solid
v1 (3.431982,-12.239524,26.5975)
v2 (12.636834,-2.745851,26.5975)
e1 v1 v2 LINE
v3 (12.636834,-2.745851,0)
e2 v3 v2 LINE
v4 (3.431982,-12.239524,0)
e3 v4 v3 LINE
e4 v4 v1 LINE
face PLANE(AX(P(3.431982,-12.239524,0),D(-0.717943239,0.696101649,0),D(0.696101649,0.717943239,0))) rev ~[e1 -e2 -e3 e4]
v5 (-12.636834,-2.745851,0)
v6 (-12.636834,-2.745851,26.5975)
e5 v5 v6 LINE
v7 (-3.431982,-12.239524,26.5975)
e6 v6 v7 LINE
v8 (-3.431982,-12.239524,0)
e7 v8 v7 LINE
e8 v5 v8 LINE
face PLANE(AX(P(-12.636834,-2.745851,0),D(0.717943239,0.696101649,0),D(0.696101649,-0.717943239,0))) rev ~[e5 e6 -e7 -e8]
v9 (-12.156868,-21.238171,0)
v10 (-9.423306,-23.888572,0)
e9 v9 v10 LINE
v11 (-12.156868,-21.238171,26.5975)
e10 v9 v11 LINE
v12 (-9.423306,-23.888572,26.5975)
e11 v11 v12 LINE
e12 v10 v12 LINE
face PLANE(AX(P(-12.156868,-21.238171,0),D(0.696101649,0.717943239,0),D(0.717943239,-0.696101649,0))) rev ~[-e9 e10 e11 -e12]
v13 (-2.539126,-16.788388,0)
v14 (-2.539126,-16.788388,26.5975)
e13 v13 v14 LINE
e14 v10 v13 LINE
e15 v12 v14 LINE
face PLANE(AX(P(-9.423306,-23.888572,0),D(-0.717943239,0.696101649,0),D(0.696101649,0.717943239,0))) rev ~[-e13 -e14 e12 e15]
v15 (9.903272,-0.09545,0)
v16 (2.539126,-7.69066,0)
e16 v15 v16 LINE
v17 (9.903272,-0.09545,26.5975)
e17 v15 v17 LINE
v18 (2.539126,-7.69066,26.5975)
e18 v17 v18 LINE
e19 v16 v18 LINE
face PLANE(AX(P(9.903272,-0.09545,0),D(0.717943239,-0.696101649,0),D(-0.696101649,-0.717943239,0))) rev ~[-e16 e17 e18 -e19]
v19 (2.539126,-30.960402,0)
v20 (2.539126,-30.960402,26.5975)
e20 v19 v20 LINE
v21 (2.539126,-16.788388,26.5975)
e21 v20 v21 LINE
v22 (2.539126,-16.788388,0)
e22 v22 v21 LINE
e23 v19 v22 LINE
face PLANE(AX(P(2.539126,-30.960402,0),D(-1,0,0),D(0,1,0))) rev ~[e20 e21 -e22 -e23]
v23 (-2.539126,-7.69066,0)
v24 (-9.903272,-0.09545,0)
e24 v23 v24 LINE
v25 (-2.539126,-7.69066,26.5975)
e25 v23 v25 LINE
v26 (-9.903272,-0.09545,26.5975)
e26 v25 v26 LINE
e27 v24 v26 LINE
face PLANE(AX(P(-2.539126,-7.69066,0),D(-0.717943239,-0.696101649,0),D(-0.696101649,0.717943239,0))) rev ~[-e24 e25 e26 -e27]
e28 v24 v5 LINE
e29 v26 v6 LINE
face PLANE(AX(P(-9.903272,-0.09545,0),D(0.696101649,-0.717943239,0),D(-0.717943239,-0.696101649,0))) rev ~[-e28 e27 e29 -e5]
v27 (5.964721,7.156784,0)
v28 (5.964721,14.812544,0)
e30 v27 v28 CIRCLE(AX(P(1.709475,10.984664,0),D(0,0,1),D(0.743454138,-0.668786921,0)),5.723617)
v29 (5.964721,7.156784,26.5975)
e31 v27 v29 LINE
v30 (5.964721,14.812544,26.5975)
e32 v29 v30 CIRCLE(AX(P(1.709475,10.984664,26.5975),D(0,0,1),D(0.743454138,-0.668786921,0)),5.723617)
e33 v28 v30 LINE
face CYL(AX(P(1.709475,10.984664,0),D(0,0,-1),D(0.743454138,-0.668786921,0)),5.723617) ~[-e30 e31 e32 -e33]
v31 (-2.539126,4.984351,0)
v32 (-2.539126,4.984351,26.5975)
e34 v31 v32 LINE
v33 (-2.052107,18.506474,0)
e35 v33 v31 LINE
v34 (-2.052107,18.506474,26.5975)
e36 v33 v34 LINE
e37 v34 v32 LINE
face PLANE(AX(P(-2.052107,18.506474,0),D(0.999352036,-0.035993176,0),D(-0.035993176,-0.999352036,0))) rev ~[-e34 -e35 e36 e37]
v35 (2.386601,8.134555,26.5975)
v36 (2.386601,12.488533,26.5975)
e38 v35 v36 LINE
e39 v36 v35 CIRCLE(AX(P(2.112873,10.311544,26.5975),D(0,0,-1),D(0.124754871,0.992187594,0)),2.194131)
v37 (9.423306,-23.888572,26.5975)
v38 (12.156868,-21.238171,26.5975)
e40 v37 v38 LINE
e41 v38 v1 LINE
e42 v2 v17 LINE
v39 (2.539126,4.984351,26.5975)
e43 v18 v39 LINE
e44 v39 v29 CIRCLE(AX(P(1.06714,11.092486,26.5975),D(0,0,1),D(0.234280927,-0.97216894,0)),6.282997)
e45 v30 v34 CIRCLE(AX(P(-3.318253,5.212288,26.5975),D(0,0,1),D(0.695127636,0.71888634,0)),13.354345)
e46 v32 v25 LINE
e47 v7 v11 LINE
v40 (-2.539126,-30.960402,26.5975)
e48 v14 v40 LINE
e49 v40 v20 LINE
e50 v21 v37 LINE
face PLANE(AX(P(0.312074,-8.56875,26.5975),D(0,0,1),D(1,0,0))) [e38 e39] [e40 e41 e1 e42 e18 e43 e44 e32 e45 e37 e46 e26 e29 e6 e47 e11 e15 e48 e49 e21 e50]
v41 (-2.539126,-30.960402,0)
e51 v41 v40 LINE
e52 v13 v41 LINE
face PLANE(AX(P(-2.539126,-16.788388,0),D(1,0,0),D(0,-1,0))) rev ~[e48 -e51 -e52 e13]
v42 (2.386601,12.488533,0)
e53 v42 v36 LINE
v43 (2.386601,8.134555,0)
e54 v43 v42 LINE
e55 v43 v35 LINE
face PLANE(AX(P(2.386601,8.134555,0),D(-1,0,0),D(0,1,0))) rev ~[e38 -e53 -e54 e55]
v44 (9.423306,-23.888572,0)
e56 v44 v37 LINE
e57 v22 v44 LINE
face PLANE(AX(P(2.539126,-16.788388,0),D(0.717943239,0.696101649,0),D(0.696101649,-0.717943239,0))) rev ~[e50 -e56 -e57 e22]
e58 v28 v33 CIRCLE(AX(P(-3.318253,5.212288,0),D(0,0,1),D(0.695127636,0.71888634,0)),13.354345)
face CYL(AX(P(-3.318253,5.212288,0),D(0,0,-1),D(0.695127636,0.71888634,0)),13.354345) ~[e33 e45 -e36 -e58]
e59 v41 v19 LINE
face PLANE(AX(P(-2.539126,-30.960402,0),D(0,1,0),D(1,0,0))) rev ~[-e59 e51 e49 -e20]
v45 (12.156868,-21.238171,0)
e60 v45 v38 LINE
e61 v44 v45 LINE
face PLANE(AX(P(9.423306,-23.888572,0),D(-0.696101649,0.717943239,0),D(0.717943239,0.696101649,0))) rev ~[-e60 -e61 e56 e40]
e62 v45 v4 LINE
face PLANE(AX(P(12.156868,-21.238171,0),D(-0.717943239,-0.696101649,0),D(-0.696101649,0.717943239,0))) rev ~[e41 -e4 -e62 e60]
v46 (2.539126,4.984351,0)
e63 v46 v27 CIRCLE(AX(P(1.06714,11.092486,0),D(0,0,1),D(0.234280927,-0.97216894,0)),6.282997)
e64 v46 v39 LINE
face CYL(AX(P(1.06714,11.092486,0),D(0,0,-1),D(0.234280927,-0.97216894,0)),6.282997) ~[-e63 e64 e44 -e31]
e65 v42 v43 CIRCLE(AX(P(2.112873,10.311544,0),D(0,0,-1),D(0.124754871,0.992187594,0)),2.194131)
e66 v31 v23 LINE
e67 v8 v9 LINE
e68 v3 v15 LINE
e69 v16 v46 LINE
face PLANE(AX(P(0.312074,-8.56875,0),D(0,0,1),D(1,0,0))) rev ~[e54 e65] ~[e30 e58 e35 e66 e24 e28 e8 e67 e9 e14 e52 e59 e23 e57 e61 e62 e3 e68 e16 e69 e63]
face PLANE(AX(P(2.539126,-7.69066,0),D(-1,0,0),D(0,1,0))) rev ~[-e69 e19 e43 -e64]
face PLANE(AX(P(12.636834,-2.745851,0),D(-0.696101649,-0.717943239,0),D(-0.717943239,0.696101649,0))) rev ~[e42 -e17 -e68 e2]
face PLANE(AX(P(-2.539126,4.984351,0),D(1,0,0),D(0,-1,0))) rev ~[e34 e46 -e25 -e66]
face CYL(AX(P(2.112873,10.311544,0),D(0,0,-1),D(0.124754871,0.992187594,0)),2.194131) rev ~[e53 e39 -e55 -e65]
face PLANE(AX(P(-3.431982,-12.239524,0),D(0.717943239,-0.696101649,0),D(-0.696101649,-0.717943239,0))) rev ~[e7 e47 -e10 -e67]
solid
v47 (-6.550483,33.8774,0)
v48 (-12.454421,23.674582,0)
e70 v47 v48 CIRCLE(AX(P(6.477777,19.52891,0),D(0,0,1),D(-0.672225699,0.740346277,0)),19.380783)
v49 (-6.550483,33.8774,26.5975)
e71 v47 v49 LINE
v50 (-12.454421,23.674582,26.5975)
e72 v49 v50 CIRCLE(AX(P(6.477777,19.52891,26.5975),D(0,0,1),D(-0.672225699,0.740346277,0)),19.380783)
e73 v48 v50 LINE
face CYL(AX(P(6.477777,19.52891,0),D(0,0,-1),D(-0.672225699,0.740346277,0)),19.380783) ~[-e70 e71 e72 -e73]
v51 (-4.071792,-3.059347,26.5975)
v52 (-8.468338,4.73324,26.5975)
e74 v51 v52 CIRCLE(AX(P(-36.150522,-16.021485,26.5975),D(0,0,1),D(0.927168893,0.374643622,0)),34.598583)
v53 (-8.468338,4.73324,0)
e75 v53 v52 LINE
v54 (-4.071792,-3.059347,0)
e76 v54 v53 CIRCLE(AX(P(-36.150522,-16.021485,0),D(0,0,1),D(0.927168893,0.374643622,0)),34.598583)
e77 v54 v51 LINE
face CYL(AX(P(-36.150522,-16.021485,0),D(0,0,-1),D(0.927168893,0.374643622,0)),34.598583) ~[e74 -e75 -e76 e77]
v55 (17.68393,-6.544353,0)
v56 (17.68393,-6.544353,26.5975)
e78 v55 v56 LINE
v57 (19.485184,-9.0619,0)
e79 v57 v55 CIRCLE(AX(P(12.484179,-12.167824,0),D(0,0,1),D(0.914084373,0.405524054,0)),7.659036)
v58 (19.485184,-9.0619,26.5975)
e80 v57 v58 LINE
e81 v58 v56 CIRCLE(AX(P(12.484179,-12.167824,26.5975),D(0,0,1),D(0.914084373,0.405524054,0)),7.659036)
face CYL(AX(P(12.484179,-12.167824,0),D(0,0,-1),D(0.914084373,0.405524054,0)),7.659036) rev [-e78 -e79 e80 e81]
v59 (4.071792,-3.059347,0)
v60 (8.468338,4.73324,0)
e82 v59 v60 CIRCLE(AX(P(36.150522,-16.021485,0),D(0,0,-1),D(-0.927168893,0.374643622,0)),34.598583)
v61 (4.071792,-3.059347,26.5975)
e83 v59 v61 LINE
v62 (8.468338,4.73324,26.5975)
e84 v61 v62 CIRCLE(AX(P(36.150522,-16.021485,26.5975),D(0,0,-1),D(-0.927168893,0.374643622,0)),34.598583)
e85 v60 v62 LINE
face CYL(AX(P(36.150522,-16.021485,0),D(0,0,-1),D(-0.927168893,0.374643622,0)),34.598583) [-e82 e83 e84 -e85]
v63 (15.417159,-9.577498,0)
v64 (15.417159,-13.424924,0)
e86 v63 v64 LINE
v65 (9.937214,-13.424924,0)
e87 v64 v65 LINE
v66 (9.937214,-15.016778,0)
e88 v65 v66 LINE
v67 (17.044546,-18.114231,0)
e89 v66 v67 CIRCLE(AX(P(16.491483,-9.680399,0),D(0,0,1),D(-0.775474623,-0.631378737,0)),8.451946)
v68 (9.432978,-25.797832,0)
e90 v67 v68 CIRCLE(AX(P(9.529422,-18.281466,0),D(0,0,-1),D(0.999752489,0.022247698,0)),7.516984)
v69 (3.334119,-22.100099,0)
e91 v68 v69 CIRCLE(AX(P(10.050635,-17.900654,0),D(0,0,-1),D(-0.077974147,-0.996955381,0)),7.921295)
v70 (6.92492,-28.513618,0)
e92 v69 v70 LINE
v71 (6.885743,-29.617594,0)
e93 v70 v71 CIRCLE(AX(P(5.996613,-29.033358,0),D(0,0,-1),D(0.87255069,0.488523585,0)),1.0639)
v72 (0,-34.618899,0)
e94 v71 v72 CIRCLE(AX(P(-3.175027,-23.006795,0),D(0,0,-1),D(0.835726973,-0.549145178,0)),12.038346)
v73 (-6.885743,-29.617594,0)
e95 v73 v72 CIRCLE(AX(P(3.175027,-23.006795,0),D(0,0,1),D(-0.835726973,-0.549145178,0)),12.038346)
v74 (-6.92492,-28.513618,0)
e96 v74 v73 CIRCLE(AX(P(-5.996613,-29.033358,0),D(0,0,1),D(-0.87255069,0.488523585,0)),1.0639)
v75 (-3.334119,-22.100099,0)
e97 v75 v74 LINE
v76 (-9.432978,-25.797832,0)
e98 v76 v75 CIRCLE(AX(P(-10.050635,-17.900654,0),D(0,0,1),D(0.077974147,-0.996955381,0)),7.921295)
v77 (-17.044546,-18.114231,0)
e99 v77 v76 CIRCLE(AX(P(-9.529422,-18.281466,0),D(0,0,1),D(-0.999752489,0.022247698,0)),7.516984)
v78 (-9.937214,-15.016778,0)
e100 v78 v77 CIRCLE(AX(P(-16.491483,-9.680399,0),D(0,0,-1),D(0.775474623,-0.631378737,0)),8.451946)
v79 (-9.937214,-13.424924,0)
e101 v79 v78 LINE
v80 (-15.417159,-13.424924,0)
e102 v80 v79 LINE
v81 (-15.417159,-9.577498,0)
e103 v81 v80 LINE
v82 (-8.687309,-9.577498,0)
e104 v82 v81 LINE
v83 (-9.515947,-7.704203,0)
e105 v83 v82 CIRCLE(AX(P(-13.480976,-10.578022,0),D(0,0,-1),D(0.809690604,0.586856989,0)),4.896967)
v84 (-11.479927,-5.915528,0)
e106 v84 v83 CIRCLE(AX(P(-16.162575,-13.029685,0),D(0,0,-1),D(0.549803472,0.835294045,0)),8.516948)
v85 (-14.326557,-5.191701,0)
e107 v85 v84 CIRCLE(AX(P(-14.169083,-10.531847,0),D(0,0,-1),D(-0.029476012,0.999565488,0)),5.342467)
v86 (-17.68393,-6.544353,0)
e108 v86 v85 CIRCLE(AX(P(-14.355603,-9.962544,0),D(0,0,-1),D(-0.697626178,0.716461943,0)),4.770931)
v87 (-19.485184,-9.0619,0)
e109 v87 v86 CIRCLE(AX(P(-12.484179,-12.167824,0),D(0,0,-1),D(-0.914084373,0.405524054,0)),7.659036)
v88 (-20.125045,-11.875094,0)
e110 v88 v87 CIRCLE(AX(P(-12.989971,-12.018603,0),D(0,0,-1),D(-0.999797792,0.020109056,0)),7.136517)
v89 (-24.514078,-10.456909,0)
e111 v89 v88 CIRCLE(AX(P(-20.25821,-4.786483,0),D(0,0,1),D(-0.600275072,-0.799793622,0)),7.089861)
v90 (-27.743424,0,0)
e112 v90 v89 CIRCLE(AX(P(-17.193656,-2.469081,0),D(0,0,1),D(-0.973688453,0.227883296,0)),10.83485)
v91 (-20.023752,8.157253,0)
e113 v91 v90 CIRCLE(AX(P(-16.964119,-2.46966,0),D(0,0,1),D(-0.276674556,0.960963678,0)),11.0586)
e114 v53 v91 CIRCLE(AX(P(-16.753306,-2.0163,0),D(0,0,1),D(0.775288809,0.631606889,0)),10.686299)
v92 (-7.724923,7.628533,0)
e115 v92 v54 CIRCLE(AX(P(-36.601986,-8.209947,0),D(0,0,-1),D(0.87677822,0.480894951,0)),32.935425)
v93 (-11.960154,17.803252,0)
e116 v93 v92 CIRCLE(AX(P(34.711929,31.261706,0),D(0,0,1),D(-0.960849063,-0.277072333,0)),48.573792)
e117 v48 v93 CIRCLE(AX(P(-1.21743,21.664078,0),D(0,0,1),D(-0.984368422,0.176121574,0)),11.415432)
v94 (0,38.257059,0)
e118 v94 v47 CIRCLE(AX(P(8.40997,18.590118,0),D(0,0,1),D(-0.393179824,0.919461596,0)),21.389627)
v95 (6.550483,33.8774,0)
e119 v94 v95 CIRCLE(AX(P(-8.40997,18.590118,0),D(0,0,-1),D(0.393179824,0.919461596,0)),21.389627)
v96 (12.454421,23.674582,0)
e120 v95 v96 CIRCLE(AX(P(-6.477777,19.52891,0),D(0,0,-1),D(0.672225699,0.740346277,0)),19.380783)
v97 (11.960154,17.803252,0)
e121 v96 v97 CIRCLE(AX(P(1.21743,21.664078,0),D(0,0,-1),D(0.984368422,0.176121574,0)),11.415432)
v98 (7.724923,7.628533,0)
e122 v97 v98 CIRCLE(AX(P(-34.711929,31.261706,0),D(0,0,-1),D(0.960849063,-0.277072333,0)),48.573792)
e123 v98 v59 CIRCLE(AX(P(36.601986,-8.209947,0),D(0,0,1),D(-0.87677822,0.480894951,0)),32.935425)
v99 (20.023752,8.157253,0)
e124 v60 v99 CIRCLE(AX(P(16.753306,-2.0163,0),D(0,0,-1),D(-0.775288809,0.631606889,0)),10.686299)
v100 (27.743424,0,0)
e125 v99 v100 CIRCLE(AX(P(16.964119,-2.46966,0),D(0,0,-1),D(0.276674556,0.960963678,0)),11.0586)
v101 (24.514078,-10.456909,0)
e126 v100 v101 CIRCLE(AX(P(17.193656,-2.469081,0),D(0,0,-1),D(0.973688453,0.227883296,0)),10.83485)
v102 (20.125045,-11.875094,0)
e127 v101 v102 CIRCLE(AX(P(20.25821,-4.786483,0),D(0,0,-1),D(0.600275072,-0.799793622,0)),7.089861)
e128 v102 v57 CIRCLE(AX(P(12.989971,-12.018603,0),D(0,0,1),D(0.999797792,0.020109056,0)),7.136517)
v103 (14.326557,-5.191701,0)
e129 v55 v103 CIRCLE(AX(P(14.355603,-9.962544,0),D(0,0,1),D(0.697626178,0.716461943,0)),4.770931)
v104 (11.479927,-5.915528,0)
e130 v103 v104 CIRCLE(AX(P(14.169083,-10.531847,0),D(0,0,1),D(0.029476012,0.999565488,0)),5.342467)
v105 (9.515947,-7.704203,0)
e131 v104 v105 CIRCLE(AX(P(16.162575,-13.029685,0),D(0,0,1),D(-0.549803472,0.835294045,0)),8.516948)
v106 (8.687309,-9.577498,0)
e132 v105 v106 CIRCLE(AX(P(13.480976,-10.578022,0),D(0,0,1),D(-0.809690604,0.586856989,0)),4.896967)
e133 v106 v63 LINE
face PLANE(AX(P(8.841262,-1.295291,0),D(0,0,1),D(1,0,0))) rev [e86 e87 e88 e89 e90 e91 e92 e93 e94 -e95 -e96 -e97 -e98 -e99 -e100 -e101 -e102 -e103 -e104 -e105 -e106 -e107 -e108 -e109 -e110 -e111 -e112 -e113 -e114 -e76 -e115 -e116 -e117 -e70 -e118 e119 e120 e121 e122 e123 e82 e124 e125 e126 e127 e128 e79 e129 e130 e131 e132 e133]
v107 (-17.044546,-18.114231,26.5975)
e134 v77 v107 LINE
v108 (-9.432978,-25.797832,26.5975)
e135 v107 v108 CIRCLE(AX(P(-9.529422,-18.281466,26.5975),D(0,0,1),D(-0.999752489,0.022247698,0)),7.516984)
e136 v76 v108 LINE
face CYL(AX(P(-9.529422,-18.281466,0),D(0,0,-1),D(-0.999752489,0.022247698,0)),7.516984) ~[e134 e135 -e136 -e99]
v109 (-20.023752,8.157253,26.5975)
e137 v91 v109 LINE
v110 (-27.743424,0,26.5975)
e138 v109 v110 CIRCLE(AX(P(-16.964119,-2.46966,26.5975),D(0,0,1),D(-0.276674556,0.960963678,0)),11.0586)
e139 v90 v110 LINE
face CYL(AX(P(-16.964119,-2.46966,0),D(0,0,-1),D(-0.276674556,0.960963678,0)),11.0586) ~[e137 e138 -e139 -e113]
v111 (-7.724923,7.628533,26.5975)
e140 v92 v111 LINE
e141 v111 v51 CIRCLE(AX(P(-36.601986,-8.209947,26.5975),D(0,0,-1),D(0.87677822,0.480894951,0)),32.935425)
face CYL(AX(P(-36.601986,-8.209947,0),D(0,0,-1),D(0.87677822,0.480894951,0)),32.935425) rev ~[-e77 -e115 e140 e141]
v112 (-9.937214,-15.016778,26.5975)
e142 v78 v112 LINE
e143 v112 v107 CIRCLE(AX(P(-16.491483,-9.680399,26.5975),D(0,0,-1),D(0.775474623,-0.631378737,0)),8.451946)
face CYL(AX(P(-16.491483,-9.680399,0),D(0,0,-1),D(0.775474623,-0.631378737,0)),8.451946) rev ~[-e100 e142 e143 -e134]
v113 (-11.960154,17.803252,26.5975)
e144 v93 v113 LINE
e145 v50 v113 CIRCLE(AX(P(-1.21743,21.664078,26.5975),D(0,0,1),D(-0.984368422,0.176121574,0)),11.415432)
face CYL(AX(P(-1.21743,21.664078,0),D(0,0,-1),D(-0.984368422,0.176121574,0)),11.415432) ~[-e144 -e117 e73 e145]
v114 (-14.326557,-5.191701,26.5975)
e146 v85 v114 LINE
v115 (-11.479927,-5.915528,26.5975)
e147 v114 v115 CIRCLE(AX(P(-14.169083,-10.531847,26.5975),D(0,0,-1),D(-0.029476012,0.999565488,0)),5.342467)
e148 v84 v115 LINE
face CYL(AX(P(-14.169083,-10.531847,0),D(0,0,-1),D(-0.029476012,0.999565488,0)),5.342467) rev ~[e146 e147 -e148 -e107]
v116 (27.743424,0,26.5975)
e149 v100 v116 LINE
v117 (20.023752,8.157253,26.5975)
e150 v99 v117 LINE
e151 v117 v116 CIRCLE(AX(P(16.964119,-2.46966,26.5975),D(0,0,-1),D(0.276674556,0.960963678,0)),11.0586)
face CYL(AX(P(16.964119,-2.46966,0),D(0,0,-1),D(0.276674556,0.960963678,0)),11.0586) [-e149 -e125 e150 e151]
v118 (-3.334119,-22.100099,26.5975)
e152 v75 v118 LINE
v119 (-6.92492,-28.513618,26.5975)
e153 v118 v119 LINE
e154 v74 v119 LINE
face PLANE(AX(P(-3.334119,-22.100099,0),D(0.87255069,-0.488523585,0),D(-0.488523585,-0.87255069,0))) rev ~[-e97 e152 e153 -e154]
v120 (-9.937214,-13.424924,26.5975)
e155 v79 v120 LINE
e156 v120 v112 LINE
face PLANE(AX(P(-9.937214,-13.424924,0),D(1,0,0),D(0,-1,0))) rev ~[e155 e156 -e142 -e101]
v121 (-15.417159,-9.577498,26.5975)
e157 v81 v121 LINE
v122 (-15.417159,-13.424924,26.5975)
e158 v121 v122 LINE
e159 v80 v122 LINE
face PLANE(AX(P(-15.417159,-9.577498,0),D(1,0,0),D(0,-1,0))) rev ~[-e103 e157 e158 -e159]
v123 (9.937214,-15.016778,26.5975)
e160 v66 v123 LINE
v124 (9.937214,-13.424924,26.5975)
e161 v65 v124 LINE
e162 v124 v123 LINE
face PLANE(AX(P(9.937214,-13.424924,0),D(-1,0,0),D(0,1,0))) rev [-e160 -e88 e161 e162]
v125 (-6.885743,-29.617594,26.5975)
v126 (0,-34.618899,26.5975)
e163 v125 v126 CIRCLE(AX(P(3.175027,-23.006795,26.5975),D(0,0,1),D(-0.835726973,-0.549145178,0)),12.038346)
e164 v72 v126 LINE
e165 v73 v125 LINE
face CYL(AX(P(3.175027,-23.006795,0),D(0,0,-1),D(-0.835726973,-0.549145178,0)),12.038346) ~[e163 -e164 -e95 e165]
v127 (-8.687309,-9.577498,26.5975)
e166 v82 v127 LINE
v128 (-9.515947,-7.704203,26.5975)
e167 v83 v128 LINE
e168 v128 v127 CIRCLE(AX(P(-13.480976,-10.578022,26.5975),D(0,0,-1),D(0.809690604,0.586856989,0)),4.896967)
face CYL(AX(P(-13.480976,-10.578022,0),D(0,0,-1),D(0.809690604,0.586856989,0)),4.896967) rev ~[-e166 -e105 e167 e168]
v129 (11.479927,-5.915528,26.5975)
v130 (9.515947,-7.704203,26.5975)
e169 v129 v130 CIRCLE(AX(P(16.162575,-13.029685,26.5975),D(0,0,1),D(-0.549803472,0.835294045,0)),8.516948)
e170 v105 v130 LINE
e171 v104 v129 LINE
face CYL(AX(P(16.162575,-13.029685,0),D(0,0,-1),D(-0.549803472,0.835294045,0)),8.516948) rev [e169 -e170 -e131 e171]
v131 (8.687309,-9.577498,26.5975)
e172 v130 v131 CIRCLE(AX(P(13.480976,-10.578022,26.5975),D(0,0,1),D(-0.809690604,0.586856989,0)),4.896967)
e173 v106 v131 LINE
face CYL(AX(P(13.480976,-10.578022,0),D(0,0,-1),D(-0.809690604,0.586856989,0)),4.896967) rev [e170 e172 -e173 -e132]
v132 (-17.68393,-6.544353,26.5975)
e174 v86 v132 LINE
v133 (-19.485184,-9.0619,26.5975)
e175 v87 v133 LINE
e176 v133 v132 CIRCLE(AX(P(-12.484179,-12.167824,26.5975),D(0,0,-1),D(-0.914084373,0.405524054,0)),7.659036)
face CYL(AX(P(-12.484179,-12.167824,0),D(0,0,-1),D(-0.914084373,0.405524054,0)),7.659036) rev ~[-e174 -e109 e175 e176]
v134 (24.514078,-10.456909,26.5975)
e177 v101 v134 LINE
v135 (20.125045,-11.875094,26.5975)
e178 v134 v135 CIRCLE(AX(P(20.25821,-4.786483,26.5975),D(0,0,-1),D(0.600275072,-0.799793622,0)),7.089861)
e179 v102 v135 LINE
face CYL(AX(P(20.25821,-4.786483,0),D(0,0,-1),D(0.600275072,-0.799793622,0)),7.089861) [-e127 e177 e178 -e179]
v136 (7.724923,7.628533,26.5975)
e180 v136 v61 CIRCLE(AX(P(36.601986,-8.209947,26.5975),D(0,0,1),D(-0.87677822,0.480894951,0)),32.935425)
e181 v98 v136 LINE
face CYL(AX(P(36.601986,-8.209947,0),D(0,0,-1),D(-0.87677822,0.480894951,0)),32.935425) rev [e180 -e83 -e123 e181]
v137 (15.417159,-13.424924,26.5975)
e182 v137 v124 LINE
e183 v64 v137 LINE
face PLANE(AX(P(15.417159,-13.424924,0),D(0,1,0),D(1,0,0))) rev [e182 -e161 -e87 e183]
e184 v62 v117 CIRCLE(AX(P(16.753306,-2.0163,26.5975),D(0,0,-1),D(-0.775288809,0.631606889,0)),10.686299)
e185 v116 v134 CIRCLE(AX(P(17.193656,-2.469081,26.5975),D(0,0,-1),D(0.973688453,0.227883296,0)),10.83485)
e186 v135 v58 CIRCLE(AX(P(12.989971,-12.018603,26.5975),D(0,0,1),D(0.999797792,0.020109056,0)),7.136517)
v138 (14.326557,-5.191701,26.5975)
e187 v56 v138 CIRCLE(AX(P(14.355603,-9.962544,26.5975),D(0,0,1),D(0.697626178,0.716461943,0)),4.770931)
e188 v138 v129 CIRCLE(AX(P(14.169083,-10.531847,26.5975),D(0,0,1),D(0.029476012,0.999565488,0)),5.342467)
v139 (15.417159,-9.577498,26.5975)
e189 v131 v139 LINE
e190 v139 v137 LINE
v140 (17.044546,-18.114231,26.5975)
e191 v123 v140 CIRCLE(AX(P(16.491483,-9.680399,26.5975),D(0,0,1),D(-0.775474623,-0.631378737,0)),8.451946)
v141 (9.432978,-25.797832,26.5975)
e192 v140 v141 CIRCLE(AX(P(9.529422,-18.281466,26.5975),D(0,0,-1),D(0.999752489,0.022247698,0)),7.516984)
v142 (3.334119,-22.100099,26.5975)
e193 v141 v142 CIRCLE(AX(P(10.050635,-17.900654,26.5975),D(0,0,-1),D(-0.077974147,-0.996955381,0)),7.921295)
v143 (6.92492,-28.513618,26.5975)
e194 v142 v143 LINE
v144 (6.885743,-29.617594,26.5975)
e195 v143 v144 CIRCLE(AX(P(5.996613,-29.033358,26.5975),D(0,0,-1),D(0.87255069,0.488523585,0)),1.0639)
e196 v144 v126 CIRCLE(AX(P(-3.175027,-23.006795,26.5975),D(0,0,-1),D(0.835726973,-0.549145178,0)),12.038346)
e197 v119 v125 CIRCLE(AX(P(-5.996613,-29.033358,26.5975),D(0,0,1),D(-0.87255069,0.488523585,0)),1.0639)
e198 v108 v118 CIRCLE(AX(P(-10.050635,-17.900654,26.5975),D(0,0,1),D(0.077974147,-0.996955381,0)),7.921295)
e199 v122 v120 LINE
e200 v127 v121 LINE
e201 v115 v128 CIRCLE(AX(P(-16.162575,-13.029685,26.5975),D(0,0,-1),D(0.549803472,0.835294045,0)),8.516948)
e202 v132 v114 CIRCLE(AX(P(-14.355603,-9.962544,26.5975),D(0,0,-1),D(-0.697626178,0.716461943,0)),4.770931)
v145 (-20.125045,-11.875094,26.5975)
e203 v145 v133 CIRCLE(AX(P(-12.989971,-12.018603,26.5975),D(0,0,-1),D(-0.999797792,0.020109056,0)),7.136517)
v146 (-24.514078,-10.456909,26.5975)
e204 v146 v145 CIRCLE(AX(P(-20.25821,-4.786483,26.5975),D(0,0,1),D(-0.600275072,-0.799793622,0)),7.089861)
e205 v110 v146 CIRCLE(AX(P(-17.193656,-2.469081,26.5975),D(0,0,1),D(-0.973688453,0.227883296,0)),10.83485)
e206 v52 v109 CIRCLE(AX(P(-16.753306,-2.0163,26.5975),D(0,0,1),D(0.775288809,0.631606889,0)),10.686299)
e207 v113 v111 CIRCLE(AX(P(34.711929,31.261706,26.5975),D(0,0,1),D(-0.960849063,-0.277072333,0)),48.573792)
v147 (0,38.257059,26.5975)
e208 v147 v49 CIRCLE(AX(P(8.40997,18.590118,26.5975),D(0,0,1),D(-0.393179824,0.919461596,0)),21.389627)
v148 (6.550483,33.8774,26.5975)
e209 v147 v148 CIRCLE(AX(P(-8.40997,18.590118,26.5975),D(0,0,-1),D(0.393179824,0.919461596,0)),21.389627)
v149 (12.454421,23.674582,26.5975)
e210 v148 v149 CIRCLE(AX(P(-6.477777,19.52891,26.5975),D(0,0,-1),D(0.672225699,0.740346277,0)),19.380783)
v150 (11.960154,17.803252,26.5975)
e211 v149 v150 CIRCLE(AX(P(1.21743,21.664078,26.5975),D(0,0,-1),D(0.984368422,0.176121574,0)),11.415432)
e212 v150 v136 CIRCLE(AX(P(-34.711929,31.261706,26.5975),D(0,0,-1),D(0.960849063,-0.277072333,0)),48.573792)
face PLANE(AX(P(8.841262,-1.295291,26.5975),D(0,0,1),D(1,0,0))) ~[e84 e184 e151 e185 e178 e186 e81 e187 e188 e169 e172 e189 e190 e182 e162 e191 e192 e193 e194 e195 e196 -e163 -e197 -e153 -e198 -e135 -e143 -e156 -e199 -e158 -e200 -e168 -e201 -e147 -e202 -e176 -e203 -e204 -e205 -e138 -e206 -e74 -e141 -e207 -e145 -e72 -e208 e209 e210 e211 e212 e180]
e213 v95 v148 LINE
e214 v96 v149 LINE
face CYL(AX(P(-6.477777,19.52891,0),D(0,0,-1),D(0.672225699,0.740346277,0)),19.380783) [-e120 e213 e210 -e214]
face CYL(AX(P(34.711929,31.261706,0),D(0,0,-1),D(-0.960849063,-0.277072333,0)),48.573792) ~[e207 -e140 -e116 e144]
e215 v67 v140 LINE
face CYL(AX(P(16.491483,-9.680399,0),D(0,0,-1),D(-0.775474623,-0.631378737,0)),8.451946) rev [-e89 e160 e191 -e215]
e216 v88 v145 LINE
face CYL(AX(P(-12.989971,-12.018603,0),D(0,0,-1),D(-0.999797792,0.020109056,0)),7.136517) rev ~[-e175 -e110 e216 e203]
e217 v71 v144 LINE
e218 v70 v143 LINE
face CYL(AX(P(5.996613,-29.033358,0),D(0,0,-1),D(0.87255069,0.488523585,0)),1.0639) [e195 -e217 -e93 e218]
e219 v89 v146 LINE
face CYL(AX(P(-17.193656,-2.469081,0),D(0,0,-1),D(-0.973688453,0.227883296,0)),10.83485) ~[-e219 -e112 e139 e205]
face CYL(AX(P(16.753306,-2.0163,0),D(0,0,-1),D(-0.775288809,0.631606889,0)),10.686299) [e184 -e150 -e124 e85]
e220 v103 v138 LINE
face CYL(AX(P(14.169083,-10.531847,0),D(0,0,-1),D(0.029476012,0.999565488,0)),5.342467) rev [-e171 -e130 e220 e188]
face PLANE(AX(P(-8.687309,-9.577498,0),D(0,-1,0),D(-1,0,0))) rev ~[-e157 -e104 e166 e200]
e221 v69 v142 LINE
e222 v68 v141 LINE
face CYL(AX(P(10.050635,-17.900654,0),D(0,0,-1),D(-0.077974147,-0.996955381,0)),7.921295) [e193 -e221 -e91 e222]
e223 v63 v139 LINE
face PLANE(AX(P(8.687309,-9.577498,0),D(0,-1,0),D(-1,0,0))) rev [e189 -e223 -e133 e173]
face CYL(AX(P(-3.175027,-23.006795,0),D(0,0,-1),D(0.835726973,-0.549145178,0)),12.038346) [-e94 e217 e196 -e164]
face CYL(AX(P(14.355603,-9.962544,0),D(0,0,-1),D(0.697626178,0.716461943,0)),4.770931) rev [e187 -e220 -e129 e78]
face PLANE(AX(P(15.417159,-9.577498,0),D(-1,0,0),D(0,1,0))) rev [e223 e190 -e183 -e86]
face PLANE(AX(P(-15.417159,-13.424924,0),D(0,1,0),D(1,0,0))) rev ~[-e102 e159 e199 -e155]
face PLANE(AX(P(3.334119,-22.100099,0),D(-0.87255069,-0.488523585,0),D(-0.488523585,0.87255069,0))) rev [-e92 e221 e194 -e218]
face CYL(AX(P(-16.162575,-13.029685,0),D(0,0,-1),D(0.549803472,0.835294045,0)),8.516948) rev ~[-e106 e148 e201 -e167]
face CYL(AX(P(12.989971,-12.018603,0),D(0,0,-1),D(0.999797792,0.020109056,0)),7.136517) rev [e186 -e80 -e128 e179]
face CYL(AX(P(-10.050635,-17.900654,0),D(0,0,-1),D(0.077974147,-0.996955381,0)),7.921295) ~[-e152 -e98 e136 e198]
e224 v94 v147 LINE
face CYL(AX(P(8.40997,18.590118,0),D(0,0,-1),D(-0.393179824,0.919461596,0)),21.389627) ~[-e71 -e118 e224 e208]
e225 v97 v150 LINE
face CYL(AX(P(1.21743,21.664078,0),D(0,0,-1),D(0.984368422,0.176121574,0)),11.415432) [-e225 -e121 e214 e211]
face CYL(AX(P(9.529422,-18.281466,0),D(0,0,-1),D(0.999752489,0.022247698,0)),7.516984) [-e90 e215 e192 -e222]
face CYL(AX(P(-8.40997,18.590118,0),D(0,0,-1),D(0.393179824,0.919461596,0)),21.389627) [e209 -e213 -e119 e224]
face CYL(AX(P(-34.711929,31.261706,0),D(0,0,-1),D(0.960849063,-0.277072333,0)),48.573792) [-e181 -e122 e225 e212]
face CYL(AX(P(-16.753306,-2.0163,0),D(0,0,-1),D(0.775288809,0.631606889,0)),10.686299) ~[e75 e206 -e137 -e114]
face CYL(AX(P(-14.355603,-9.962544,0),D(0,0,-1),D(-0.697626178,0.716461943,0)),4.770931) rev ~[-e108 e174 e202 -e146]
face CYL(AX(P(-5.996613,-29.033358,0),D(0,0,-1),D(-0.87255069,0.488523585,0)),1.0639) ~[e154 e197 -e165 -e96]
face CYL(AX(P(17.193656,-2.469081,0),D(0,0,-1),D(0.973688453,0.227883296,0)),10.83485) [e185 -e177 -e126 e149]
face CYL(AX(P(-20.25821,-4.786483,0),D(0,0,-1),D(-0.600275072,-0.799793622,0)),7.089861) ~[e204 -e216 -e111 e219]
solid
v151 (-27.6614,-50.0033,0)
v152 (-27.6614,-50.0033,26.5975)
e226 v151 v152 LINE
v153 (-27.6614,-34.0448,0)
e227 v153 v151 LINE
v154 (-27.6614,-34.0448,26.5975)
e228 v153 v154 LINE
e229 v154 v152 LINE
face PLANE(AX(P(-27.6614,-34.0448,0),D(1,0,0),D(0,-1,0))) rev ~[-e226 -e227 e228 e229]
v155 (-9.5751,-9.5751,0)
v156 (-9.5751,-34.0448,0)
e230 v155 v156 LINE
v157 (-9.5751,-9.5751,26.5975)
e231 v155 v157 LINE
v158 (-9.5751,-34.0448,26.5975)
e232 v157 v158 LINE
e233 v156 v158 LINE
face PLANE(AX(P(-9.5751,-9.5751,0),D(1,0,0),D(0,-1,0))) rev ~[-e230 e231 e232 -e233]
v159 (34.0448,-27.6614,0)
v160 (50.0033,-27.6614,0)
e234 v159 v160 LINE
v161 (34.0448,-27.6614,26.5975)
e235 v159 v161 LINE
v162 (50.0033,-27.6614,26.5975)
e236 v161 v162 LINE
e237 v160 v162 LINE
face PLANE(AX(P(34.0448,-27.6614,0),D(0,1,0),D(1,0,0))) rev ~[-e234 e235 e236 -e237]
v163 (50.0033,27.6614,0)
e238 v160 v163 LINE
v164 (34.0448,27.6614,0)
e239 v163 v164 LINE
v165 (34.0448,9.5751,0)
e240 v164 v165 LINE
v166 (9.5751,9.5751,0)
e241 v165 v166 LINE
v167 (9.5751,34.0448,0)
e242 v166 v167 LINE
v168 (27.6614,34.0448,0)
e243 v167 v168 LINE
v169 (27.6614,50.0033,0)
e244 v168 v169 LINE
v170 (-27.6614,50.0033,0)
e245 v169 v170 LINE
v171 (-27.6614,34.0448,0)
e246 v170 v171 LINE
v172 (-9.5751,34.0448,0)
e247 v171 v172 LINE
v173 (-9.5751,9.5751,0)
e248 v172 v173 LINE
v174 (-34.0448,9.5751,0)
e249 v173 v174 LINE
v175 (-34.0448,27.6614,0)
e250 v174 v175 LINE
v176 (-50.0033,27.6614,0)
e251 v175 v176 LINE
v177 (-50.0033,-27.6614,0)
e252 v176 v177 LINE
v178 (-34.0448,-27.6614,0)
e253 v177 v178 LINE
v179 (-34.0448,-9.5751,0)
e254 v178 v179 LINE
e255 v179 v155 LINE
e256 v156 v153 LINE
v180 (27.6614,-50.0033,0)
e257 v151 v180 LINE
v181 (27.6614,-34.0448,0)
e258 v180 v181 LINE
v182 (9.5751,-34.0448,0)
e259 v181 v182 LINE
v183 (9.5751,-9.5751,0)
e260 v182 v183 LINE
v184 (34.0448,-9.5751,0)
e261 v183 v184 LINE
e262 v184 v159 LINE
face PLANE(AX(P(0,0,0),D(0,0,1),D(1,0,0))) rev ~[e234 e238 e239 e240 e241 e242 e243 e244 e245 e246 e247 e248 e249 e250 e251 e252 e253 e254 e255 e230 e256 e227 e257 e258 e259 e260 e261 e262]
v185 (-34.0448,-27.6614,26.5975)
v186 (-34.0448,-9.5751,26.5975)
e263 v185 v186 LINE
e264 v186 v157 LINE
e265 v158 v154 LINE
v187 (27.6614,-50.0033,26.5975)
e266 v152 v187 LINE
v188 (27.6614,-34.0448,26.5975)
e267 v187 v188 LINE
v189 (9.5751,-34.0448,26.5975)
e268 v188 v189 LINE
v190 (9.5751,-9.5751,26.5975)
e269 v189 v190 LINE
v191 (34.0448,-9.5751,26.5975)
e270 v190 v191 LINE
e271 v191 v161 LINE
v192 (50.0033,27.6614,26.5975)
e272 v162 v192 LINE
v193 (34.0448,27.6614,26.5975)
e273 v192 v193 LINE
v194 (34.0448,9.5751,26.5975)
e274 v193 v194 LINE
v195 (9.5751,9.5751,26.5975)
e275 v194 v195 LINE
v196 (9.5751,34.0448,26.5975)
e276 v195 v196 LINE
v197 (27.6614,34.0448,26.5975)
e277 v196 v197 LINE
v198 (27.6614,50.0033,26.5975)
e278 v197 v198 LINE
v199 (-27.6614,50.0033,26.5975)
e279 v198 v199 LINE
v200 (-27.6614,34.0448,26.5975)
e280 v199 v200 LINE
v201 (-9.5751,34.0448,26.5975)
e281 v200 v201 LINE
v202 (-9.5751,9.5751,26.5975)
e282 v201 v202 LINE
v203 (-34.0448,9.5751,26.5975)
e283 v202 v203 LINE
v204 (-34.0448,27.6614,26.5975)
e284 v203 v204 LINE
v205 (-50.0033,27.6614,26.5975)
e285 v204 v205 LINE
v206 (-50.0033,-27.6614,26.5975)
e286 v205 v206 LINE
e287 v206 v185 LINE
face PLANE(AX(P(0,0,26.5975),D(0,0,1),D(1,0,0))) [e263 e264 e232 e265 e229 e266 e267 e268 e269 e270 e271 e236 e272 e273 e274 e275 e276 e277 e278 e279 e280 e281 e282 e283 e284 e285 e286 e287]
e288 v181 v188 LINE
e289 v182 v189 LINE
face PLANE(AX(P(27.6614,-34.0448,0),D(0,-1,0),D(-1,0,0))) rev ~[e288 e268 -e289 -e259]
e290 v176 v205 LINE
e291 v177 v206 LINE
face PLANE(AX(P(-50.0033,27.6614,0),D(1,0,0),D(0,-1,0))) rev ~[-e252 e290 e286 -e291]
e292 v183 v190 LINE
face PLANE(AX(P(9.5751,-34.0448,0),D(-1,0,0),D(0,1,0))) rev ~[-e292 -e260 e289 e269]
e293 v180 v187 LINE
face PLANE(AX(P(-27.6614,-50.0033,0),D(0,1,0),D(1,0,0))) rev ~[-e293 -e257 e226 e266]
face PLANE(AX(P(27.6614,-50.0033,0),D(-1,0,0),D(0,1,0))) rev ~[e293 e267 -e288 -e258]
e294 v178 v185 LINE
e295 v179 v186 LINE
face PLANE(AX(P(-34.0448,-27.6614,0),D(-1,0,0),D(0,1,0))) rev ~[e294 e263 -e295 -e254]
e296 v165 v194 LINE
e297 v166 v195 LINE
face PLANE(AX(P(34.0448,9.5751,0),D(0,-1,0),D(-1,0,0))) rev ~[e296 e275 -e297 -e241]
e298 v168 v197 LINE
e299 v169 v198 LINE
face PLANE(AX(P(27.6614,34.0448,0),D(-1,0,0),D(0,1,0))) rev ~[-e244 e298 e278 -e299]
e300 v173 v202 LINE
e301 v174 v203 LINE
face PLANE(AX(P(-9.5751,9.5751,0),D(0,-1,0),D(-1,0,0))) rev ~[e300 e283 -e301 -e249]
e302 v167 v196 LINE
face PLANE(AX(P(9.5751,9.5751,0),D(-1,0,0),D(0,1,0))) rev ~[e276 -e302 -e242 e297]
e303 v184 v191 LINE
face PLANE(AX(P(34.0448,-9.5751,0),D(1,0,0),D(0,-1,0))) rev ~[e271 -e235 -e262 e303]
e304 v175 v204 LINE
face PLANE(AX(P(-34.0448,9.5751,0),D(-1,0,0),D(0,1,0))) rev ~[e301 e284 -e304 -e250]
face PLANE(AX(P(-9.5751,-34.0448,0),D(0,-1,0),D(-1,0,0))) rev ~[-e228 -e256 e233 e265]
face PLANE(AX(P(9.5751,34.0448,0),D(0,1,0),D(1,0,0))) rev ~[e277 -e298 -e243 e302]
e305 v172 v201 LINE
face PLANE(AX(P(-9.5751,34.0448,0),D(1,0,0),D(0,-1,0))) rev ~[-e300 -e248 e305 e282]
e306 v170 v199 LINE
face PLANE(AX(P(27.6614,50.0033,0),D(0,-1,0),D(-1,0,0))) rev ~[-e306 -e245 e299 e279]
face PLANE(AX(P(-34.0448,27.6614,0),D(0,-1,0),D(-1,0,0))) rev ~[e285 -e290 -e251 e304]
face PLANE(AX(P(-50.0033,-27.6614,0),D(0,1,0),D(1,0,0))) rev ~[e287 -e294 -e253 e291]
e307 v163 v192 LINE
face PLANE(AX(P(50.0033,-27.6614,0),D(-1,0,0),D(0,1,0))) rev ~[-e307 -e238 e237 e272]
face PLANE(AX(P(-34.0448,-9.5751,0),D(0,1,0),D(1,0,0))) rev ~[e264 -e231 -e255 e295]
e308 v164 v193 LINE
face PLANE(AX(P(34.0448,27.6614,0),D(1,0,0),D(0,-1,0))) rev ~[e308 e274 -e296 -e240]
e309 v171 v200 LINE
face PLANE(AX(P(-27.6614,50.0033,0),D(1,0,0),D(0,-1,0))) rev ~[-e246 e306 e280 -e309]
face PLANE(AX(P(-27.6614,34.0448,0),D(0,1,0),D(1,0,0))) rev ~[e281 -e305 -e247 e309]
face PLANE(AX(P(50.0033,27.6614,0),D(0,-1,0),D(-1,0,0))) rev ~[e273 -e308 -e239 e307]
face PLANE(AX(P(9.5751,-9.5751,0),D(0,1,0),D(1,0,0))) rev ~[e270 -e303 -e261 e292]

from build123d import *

# Parameters (mm, degrees)
F4_DEPTH = 25
F6_DEPTH = 25
F7_DEPTH = 25
F8_SCALE = 1.0639


with BuildPart() as f4:
    # F1 (on Top) → F4 (new body)
    with BuildSketch(Plane.XY):
        with BuildLine():
            Line((0, -32.5396172702), (0, 35.9592616823))
            ThreePointArc((0, 35.9592616823), (-3.2697243903, 34.1869293921), (-6.1570475209, 31.842654563))
            ThreePointArc((-6.1570475209, 31.842654563), (-9.678511735, 27.4797860383), (-11.7063832465, 22.2526387181))
            ThreePointArc((-11.7063832465, 22.2526387181), (-11.8362878055, 19.4628050637), (-11.2418027388, 16.7339528289))
            ThreePointArc((-11.2418027388, 16.7339528289), (-9.5234916383, 11.8388817508), (-7.2609484196, 7.1703474969))
            ThreePointArc((-7.2609484196, 7.1703474969), (-5.1102294701, 2.295669753), (-3.8272319362, -2.8755962849))
            ThreePointArc((-3.8272319362, -2.8755962849), (-5.6557055069, 0.9208248858), (-7.9597122967, 4.4489521533))
            ThreePointArc((-7.9597122967, 4.4489521533), (-12.8934125497, 7.735368551), (-18.8210848719, 7.6673114672))
            ThreePointArc((-18.8210848719, 7.6673114672), (-23.4948725765, 4.823338176), (-26.0770972818, 0))
            ThreePointArc((-26.0770972818, 0), (-25.8916050048, -5.3258386332), (-23.0417121202, -9.8288459703))
            ThreePointArc((-23.0417121202, -9.8288459703), (-21.0904351996, -10.8402117285), (-18.9162939787, -11.1618516967))
            ThreePointArc((-18.9162939787, -11.1618516967), (-18.7505935469, -9.8090288122), (-18.3148639608, -8.5176241051))
            ThreePointArc((-18.3148639608, -8.5176241051), (-17.5891277306, -7.24802711), (-16.6217970491, -6.1512860474))
            ThreePointArc((-16.6217970491, -6.1512860474), (-15.1691912992, -5.204689655), (-13.4660750628, -4.8798769712))
            ThreePointArc((-13.4660750628, -4.8798769712), (-12.0805726197, -5.0325619293), (-10.7904189828, -5.5602297313))
            ThreePointArc((-10.7904189828, -5.5602297313), (-9.8014590545, -6.3284370043), (-8.9444001864, -7.2414727378))
            ThreePointArc((-8.9444001864, -7.2414727378), (-8.4618703636, -8.0806833732), (-8.1655316146, -9.002254242))
            Line((-8.1655316146, -9.002254242), (-14.4911732853, -9.002254242))
            Line((-14.4911732853, -9.002254242), (-14.4911732853, -12.6185957342))
            Line((-14.4911732853, -12.6185957342), (-9.340364486, -12.6185957342))
            Line((-9.340364486, -12.6185957342), (-9.340364486, -14.1148399562))
            ThreePointArc((-9.340364486, -14.1148399562), (-12.3270728412, -16.3817179569), (-16.0208158195, -17.0262530446))
            ThreePointArc((-16.0208158195, -17.0262530446), (-13.9766014859, -22.1559219559), (-8.8664144278, -24.2483615875))
            ThreePointArc((-8.8664144278, -24.2483615875), (-5.5868333909, -23.1922287531), (-3.1338650733, -20.7727216184))
            Line((-3.1338650733, -20.7727216184), (-6.5089949237, -26.8010321734))
            ThreePointArc((-6.5089949237, -26.8010321734), (-6.635815165, -27.3250204015), (-6.4721712063, -27.8387009361))
            ThreePointArc((-6.4721712063, -27.8387009361), (-3.6653485725, -30.7801637568), (0, -32.5396172702))
        make_face()
    extrude(amount=F4_DEPTH)

    # F5: F4 across face


with BuildPart() as f4_1:
    add(f4.part)
    add(f4.part.mirror(Plane(origin=(0, 1.709822206, 12.5), x_dir=(0, 1, 0), z_dir=(1, 0, 0))))


with BuildPart() as f6:
    # F2 (on Top) → F6 (new body)
    with BuildSketch(Plane.XY):
        with BuildLine():
            ThreePointArc((5.6064678356, 6.7269327119), (6.9866446891, 10.3249023668), (5.6064678356, 13.9228720218))
            ThreePointArc((5.6064678356, 13.9228720218), (2.1339699461, 16.2994871237), (-1.9288528711, 17.3949375749))
            Line((-1.9288528711, 17.3949375749), (-2.3866211995, 4.6849809587))
            Line((-2.3866211995, 4.6849809587), (-2.3866211995, -7.2287432849))
            Line((-2.3866211995, -7.2287432849), (-9.308461056, -0.0897167804))
            Line((-9.308461056, -0.0897167804), (-11.8778402445, -2.5809291694))
            Line((-11.8778402445, -2.5809291694), (-3.2258499414, -11.5043930709))
            Line((-3.2258499414, -11.5043930709), (-11.4267019294, -19.9625632853))
            Line((-11.4267019294, -19.9625632853), (-8.8573227409, -22.4537756743))
            Line((-8.8573227409, -22.4537756743), (-2.3866211995, -15.7800428569))
            Line((-2.3866211995, -15.7800428569), (-2.3866211995, -29.1008576751))
            Line((-2.3866211995, -29.1008576751), (0, -29.1008576751))
            Line((0, -29.1008576751), (2.3866211995, -29.1008576751))
            Line((2.3866211995, -29.1008576751), (2.3866211995, -15.7800428569))
            Line((2.3866211995, -15.7800428569), (8.8573227409, -22.4537756743))
            Line((8.8573227409, -22.4537756743), (11.4267019294, -19.9625632853))
            Line((11.4267019294, -19.9625632853), (3.2258499414, -11.5043930709))
            Line((3.2258499414, -11.5043930709), (11.8778402445, -2.5809291694))
            Line((11.8778402445, -2.5809291694), (9.308461056, -0.0897167804))
            Line((9.308461056, -0.0897167804), (2.3866211995, -7.2287432849))
            Line((2.3866211995, -7.2287432849), (2.3866211995, 4.6849809587))
            ThreePointArc((2.3866211995, 4.6849809587), (4.1658651322, 5.4389640375), (5.6064678356, 6.7269327119))
        make_face()
        with BuildLine():
            Line((2.2432571277, 7.6459771954), (2.2432571277, 11.7384465411))
            ThreePointArc((2.2432571277, 11.7384465411), (4.0483159092, 9.6922118682), (2.2432571277, 7.6459771954))
        make_face(mode=Mode.SUBTRACT)
    extrude(amount=F6_DEPTH)


with BuildPart() as f7:
    # F3 (on Top) → F7 (new body)
    with BuildSketch(Plane.XY):
        Polygon((-32, 26), (-47, 26), (-47, 0), (-47, -26), (-32, -26), (-32, -9), (-9, -9), (-9, -32), (-26, -32), (-26, -47), (0, -47), (26, -47), (26, -32), (9, -32), (9, -9), (32, -9), (32, -26), (47, -26), (47, 0), (47, 26), (32, 26), (32, 9), (9, 9), (9, 32), (26, 32), (26, 47), (0, 47), (-26, 47), (-26, 32), (-9, 32), (-9, 9), (-32, 9), align=None)
    extrude(amount=F7_DEPTH)


with BuildPart() as f4_2:
    # F8: moved
    add(f4_1.part.scale(F8_SCALE))


with BuildPart() as f6_1:
    # F8: moved
    add(f6.part.scale(F8_SCALE))


with BuildPart() as f7_1:
    # F8: moved
    add(f7.part.scale(F8_SCALE))


solid = Compound([f4_2.part, f6_1.part, f7_1.part])
